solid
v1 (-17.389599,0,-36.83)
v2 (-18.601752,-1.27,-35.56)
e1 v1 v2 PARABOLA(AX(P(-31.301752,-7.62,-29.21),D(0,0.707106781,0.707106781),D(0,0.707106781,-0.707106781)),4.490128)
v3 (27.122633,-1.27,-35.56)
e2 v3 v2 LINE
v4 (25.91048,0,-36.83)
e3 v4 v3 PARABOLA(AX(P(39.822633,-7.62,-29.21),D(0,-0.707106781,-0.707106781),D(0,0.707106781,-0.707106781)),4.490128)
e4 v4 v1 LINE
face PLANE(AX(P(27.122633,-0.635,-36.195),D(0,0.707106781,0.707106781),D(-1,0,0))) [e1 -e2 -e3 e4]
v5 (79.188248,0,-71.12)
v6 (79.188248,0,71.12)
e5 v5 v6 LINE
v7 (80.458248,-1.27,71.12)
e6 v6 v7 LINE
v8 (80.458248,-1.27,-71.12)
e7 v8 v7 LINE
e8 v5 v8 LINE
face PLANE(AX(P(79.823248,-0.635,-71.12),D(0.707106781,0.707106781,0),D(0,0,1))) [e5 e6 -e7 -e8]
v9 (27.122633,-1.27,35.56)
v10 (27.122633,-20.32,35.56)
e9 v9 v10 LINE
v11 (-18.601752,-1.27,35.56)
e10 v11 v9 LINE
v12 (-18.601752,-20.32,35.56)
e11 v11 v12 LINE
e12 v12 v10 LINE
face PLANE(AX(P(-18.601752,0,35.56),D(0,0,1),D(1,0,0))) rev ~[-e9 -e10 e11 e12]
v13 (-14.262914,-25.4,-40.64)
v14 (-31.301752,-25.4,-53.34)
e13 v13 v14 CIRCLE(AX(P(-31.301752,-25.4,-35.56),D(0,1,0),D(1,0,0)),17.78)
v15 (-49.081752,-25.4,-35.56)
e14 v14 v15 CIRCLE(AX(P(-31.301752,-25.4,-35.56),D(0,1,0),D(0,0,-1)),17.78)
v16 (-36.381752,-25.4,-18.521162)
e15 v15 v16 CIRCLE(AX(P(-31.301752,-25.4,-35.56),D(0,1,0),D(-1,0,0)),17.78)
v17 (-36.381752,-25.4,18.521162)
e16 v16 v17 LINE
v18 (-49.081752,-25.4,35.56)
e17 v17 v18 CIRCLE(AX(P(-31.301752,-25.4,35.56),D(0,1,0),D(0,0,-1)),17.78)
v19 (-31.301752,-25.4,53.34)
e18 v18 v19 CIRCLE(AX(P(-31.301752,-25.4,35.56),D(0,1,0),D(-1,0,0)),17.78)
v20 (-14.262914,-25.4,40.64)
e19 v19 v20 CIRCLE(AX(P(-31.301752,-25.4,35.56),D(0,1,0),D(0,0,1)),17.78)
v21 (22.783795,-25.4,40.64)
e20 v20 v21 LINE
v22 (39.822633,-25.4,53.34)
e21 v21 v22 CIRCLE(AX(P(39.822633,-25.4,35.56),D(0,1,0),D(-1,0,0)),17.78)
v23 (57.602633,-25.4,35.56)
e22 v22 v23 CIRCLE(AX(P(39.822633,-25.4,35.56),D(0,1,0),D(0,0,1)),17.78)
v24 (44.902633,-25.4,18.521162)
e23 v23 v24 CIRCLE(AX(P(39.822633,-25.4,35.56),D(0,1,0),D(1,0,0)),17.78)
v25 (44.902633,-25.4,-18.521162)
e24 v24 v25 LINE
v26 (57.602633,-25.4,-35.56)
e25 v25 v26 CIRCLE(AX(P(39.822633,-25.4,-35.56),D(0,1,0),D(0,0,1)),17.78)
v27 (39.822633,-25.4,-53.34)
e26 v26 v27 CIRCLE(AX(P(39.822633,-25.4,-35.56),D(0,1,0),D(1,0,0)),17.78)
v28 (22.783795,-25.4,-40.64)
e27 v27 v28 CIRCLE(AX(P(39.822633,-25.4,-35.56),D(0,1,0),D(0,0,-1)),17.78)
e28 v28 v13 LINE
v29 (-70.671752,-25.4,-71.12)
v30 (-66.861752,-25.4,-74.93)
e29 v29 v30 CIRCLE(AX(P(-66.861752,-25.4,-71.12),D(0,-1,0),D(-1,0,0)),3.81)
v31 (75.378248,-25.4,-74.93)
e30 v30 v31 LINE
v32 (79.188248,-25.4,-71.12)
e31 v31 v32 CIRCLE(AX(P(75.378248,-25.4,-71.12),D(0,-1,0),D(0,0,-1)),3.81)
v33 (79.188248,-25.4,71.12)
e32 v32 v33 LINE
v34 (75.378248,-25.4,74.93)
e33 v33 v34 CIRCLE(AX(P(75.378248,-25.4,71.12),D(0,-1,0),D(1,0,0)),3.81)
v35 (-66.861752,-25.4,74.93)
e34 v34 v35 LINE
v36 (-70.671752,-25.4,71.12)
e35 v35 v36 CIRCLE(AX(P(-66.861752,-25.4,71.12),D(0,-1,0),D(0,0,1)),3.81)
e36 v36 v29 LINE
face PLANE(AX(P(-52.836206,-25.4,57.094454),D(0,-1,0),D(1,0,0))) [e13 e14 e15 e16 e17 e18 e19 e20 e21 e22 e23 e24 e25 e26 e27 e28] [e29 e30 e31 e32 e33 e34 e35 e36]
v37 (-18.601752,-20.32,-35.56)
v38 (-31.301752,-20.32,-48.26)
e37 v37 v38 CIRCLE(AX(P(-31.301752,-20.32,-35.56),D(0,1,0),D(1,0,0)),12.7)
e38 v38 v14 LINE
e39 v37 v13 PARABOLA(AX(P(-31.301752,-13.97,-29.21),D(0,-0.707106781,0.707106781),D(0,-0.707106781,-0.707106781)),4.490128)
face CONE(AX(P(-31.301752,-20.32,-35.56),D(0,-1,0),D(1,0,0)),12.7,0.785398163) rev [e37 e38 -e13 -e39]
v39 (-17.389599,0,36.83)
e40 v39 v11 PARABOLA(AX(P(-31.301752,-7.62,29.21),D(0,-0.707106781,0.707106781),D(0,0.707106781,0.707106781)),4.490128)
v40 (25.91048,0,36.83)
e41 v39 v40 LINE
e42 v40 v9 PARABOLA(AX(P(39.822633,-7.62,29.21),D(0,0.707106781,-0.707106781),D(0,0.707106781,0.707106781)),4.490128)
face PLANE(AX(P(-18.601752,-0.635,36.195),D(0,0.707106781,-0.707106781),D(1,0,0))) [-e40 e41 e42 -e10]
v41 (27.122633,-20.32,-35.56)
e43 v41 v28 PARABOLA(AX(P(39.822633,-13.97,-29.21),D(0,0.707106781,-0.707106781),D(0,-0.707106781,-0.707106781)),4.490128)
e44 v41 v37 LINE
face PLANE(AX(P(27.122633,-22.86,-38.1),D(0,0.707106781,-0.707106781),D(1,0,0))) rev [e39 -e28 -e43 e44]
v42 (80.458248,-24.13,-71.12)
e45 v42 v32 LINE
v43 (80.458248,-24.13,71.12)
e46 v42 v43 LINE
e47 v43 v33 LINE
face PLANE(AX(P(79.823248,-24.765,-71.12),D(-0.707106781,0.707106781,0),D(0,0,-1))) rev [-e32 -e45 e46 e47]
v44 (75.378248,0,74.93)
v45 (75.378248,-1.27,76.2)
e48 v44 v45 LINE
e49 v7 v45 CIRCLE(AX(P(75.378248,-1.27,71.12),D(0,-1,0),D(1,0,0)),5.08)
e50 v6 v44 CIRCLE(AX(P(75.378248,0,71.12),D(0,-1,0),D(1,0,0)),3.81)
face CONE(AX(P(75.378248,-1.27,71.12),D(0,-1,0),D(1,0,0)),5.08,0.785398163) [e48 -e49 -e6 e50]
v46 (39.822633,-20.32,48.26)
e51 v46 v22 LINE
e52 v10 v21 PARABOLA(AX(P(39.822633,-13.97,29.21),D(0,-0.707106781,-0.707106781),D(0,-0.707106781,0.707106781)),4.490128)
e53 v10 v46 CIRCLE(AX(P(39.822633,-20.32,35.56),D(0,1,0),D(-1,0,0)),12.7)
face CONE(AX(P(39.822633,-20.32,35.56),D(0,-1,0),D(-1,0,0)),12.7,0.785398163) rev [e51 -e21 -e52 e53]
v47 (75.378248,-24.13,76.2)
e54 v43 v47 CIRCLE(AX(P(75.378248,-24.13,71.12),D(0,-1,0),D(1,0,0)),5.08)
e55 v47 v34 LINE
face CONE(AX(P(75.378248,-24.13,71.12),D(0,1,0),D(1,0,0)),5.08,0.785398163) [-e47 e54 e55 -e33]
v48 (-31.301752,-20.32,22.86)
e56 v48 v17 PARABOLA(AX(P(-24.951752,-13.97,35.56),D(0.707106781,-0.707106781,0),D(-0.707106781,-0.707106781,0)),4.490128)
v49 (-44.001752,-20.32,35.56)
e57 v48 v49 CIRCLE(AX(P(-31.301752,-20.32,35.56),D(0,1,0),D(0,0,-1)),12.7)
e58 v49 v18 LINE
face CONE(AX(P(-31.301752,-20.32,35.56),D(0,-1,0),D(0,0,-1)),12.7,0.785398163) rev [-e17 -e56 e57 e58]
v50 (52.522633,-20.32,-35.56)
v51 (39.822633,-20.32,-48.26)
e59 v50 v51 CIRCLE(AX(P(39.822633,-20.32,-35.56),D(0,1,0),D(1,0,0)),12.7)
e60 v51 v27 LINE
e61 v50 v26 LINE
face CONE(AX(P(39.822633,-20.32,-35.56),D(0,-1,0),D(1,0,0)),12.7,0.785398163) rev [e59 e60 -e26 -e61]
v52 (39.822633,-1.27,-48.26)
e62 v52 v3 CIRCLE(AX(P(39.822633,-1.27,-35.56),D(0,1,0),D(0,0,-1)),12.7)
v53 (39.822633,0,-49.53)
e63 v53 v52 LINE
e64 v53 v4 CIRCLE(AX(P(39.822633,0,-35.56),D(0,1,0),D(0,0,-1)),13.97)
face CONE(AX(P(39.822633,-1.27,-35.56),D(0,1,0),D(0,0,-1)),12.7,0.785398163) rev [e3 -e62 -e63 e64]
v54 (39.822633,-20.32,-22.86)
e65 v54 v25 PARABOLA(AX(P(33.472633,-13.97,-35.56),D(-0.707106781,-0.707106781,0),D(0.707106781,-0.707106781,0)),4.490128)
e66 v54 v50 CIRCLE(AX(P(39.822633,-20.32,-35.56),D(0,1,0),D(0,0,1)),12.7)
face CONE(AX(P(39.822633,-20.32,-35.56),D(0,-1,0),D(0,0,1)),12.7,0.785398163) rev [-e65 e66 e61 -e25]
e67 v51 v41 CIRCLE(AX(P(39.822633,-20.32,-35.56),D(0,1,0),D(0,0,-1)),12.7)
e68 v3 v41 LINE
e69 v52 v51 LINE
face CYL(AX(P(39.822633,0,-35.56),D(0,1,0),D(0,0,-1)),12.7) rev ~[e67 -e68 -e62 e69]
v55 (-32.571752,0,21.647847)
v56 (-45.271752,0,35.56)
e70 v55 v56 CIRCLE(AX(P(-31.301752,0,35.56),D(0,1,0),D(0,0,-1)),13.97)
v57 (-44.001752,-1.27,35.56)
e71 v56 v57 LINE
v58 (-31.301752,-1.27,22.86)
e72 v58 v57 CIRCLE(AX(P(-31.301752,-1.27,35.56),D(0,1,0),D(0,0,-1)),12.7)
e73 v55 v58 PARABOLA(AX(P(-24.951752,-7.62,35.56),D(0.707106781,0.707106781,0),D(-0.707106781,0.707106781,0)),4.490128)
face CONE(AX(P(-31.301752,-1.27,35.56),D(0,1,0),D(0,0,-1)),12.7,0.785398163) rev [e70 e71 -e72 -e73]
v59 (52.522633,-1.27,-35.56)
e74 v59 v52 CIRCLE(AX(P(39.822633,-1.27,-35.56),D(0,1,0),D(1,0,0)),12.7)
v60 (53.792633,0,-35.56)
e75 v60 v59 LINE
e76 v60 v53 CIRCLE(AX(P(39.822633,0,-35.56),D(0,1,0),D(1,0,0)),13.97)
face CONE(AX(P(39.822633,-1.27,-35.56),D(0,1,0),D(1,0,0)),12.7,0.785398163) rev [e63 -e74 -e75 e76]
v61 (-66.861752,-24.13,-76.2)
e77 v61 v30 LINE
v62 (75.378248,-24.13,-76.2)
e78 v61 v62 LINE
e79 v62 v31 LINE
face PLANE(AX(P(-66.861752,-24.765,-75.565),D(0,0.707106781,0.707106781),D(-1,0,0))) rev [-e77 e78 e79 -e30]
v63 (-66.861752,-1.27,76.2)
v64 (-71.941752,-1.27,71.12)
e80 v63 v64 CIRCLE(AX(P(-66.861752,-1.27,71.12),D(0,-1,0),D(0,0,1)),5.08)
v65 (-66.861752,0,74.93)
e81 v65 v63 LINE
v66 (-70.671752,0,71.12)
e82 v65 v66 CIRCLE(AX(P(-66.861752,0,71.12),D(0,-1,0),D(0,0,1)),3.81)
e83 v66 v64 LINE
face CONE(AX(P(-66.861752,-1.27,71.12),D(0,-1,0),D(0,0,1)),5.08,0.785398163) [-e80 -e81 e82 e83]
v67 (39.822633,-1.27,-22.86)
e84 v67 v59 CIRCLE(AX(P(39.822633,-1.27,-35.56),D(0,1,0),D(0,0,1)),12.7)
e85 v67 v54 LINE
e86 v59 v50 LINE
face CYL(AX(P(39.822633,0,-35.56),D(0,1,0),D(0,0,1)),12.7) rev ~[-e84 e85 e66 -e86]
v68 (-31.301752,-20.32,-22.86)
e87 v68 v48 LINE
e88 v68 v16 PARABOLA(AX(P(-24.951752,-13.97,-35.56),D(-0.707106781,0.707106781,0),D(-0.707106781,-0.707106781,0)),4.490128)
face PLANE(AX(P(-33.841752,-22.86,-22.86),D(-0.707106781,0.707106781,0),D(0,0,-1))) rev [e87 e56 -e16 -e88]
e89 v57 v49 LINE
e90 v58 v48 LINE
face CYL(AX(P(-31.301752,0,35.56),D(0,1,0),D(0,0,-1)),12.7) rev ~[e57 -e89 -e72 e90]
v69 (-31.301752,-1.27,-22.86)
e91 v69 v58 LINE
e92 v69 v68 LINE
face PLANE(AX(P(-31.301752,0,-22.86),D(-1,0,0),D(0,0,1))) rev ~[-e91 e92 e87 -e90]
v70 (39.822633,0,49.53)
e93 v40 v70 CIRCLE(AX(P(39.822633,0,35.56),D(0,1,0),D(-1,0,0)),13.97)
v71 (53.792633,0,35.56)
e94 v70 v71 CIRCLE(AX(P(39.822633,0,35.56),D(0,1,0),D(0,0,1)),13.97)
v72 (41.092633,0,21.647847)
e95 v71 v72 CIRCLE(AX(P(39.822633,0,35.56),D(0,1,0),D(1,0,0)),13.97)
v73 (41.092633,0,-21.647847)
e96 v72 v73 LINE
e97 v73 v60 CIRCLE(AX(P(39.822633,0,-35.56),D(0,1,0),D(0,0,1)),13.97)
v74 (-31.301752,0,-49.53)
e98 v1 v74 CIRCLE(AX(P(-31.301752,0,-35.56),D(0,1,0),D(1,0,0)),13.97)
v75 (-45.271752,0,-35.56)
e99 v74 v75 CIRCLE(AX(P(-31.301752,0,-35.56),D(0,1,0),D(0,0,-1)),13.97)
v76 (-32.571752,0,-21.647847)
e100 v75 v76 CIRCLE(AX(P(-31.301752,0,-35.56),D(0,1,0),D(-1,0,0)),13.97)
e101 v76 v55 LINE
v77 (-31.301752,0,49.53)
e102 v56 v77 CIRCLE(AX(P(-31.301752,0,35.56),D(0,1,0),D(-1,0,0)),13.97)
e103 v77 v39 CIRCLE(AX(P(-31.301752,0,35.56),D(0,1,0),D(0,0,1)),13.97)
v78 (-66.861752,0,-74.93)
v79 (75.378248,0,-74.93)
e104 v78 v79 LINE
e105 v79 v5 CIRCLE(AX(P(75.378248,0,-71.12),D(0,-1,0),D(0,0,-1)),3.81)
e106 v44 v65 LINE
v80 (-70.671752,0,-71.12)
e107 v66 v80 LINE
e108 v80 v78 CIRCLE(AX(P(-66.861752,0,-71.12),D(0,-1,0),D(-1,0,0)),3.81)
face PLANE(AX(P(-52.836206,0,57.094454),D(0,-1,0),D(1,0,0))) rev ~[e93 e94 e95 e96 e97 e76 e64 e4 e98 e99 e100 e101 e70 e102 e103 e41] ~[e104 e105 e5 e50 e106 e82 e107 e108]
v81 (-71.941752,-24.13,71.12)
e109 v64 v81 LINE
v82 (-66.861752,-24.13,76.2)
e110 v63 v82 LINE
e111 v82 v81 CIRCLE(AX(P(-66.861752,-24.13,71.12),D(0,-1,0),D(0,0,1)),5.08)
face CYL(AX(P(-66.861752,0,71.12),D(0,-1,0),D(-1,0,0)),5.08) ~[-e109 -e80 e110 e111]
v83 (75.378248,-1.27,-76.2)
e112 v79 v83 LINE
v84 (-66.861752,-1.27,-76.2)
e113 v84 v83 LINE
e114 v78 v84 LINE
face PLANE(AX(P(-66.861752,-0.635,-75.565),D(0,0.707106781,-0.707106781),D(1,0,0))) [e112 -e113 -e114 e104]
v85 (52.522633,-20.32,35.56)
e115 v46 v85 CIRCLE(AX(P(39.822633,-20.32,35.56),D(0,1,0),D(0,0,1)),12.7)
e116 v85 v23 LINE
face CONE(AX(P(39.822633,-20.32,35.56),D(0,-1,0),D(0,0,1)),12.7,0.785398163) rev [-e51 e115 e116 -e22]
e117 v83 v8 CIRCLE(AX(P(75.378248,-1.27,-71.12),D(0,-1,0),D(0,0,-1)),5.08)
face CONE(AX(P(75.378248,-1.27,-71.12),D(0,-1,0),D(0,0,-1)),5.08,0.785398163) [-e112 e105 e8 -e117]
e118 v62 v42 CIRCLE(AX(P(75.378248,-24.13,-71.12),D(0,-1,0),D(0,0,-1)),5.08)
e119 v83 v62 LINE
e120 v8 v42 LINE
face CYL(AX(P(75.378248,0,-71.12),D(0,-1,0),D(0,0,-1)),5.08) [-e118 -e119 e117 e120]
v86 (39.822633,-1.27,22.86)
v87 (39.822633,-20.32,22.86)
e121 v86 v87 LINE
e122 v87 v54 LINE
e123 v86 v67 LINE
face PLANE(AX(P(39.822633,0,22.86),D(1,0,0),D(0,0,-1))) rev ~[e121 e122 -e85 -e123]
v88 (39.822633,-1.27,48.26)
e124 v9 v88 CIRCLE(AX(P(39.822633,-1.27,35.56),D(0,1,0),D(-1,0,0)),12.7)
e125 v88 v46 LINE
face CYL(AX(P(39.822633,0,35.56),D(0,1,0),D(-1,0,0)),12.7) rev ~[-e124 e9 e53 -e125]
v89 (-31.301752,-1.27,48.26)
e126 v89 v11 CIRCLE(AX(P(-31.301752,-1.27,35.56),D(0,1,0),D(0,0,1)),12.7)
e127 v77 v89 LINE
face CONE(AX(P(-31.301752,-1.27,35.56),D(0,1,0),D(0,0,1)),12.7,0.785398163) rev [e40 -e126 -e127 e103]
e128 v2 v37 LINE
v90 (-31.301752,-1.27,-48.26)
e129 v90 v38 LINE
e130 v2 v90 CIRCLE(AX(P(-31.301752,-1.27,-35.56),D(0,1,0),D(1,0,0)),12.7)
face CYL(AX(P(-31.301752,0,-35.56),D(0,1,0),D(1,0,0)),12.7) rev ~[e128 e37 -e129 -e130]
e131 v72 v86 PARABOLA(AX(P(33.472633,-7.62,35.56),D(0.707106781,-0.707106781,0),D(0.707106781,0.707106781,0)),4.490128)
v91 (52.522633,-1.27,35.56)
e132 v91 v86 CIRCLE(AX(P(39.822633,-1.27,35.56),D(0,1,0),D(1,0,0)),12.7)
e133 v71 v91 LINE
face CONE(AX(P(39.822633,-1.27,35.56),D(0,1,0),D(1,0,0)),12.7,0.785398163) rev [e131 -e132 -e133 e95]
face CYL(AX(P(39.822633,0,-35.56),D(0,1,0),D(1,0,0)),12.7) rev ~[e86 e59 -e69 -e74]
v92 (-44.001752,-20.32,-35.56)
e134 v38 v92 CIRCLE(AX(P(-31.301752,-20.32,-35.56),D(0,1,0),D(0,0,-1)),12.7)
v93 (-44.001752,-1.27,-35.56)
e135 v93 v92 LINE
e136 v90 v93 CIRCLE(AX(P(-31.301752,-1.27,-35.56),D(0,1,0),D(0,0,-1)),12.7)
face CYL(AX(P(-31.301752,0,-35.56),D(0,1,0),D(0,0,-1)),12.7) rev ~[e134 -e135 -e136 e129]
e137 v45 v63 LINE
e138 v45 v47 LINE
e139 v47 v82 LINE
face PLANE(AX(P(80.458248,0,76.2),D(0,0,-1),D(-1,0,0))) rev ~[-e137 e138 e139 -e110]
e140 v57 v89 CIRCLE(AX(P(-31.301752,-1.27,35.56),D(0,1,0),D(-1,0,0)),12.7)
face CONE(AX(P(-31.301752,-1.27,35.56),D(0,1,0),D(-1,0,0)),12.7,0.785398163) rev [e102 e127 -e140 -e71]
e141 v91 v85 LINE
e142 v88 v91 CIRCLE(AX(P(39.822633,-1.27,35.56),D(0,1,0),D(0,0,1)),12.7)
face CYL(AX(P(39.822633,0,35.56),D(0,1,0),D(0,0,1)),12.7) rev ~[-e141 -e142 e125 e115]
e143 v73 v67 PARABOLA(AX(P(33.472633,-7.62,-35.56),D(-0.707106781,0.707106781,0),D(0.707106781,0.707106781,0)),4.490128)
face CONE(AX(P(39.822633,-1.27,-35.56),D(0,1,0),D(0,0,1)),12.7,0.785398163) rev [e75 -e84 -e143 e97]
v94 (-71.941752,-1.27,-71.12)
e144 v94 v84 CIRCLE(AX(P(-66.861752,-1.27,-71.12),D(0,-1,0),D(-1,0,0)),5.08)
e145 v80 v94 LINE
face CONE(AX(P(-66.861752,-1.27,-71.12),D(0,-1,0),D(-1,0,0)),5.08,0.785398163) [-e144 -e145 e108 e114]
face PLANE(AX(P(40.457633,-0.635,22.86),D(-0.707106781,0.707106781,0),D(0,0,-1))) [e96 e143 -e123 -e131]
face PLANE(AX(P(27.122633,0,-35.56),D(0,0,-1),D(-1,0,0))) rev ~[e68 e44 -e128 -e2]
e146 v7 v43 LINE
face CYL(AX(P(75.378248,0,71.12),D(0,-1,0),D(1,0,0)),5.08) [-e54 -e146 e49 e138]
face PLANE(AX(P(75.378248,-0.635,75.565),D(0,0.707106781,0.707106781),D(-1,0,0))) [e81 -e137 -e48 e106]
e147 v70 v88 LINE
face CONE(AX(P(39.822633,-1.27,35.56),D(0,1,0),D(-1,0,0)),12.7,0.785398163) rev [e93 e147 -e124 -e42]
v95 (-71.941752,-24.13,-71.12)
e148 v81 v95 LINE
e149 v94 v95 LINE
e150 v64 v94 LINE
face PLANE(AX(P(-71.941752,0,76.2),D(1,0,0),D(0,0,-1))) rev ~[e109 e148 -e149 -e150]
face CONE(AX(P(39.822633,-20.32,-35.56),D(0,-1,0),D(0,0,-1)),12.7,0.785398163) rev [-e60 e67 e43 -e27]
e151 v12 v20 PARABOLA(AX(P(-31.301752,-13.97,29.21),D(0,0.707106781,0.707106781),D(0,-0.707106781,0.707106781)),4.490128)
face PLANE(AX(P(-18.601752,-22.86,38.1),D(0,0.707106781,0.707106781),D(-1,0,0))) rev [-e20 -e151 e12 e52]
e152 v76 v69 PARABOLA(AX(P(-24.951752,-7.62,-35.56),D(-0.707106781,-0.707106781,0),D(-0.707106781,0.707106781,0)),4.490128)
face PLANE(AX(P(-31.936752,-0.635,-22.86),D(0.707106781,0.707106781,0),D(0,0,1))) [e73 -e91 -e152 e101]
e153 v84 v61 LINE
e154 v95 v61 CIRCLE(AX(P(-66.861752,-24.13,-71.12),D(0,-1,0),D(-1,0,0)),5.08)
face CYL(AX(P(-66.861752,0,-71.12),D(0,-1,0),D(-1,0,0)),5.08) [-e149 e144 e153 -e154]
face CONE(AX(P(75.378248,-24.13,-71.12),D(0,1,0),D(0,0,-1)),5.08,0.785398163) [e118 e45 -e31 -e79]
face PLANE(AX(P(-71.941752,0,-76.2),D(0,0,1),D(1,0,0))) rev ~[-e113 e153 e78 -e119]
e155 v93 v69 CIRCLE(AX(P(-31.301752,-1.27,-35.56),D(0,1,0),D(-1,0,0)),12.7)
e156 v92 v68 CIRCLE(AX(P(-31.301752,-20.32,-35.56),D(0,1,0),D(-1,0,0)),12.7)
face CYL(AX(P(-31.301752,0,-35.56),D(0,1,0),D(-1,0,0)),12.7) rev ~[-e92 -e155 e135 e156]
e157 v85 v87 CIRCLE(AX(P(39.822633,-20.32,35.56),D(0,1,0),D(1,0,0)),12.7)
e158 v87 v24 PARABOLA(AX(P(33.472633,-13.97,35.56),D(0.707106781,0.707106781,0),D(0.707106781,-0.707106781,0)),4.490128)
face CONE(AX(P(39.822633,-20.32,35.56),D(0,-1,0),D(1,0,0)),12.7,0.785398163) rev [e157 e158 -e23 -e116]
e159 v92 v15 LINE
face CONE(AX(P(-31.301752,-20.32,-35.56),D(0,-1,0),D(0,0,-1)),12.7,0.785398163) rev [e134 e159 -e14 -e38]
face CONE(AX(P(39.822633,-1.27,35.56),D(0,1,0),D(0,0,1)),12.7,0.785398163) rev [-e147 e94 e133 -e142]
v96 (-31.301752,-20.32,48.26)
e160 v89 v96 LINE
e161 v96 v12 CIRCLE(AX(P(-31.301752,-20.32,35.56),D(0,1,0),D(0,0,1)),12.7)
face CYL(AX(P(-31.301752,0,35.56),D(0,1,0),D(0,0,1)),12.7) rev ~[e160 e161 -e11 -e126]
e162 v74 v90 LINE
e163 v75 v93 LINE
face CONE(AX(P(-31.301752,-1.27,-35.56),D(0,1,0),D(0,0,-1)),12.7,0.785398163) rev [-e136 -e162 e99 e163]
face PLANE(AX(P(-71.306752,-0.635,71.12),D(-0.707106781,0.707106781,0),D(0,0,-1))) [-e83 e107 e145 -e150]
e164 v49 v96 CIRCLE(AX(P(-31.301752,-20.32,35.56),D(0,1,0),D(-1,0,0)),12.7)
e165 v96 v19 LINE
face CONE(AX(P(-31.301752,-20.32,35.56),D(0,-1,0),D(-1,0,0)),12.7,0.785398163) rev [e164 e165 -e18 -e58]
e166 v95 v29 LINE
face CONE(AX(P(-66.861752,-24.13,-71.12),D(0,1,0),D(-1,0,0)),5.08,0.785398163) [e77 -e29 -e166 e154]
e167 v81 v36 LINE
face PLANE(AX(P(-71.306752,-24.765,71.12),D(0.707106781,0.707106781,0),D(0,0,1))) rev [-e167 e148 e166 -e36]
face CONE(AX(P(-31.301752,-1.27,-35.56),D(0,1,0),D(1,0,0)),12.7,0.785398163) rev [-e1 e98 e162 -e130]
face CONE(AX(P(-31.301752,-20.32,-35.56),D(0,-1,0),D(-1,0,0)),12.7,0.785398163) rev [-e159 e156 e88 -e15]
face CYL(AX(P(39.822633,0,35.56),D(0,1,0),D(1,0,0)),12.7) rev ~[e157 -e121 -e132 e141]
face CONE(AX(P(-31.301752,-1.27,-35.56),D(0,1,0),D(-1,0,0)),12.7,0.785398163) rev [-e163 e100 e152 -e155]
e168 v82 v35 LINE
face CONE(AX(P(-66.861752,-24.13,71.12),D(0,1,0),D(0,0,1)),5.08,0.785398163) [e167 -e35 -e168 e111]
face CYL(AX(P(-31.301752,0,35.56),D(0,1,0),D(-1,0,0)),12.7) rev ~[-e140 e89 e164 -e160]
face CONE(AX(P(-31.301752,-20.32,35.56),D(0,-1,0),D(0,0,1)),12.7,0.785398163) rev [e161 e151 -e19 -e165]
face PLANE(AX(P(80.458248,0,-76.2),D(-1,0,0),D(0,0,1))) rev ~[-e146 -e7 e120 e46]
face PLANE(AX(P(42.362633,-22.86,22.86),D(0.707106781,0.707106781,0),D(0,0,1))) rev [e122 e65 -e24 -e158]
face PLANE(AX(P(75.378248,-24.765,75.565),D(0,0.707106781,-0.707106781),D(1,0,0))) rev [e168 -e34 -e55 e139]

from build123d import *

# Parameters (mm, degrees)
F1_DEPTH = 25.4
F2_SIZE  = 5.08
F3_R     = 5.08
F4_SIZE  = 1.27


with BuildPart() as f1:
    # F0 (on Front) → F1 (new body)
    with BuildSketch(Plane.XZ):
        with BuildLine():
            Line((-31.3017520181, 76.2), (-71.9417520181, 76.2))
            Line((-71.9417520181, 76.2), (-71.9417520181, 35.56))
            Line((-71.9417520181, 35.56), (-44.0017520181, 35.56))
            ThreePointArc((-44.0017520181, 35.56), (-40.2820081392, 44.5402561211), (-31.3017520181, 48.26))
            Line((-31.3017520181, 48.26), (-31.3017520181, 76.2))
        make_face()
        with BuildLine():
            Line((80.4582479819, 76.2), (-31.3017520181, 76.2))
            Line((-31.3017520181, 76.2), (-31.3017520181, 48.26))
            ThreePointArc((-31.3017520181, 48.26), (-22.3214958971, 44.5402561211), (-18.6017520181, 35.56))
            Line((-18.6017520181, 35.56), (27.1226329476, 35.56))
            ThreePointArc((27.1226329476, 35.56), (30.8423768265, 44.5402561211), (39.8226329476, 48.26))
            ThreePointArc((39.8226329476, 48.26), (48.8028890686, 44.5402561211), (52.5226329476, 35.56))
            Line((52.5226329476, 35.56), (80.4582479819, 35.56))
            Line((80.4582479819, 35.56), (80.4582479819, 76.2))
        make_face()
        with BuildLine():
            Line((-44.0017520181, 35.56), (-71.9417520181, 35.56))
            Line((-71.9417520181, 35.56), (-71.9417520181, -35.56))
            Line((-71.9417520181, -35.56), (-44.0017520181, -35.56))
            ThreePointArc((-44.0017520181, -35.56), (-40.2820081392, -26.5797438789), (-31.3017520181, -22.86))
            Line((-31.3017520181, -22.86), (-31.3017520181, 22.86))
            ThreePointArc((-31.3017520181, 22.86), (-40.2820081392, 26.5797438789), (-44.0017520181, 35.56))
        make_face()
        with BuildLine():
            Line((-44.0017520181, -35.56), (-71.9417520181, -35.56))
            Line((-71.9417520181, -35.56), (-71.9417520181, -76.2))
            Line((-71.9417520181, -76.2), (-31.3017520181, -76.2))
            Line((-31.3017520181, -76.2), (-31.3017520181, -48.26))
            ThreePointArc((-31.3017520181, -48.26), (-40.2820081392, -44.5402561211), (-44.0017520181, -35.56))
        make_face()
        with BuildLine():
            Line((80.4582479819, -35.56), (80.4582479819, 35.56))
            Line((80.4582479819, 35.56), (52.5226329476, 35.56))
            ThreePointArc((52.5226329476, 35.56), (48.8028890686, 26.5797438789), (39.8226329476, 22.86))
            Line((39.8226329476, 22.86), (39.8226329476, -22.86))
            ThreePointArc((39.8226329476, -22.86), (48.8028890686, -26.5797438789), (52.5226329476, -35.56))
            Line((52.5226329476, -35.56), (80.4582479819, -35.56))
        make_face()
        with BuildLine():
            Line((80.4582479819, -76.2), (80.4582479819, -35.56))
            Line((80.4582479819, -35.56), (52.5226329476, -35.56))
            ThreePointArc((52.5226329476, -35.56), (48.8028890686, -44.5402561211), (39.8226329476, -48.26))
            Line((39.8226329476, -48.26), (39.8226329476, -76.2))
            Line((39.8226329476, -76.2), (80.4582479819, -76.2))
        make_face()
        with BuildLine():
            Line((-31.3017520181, -48.26), (-31.3017520181, -76.2))
            Line((-31.3017520181, -76.2), (39.8226329476, -76.2))
            Line((39.8226329476, -76.2), (39.8226329476, -48.26))
            ThreePointArc((39.8226329476, -48.26), (30.8423768265, -44.5402561211), (27.1226329476, -35.56))
            Line((27.1226329476, -35.56), (-18.6017520181, -35.56))
            ThreePointArc((-18.6017520181, -35.56), (-22.3214958971, -44.5402561211), (-31.3017520181, -48.26))
        make_face()
    extrude(amount=F1_DEPTH)

    # F2
    f2_edges = [f1.edges().sort_by_distance(p)[0] for p in [
        (39.822633, -25.4, 0),
        (4.26044, -25.4, 35.56),
        (4.26044, -25.4, -35.56),
        (48.802889, -25.4, 44.540256),
        (48.802889, -25.4, -44.540256),
        (-40.282008, -25.4, -44.540256),
        (-31.301752, -25.4, 0),
        (-40.282008, -25.4, 44.540256),
    ]]
    chamfer(f2_edges, length=F2_SIZE)

    # F3
    f3_edges = [f1.edges().sort_by_distance(p)[0] for p in [
        (80.458248, -12.7, 76.2),
        (80.458248, -12.7, -76.2),
        (-71.941752, -12.7, -76.2),
        (-71.941752, -12.7, 76.2),
    ]]
    fillet(f3_edges, radius=F3_R)

    # F4
    f4_edges = [f1.edges().sort_by_distance(p)[0] for p in [
        (4.258248, -25.4, 76.2),
        (-71.941752, 0, 0),
        (4.26044, 0, 35.56),
        (-40.282008, 0, 44.540256),
        (-31.301752, 0, 0),
        (39.822633, 0, 0),
        (48.802889, 0, 44.540256),
        (4.26044, 0, -35.56),
        (-40.282008, 0, -44.540256),
        (48.802889, 0, -44.540256),
    ]]
    chamfer(f4_edges, length=F4_SIZE)


solid = f1.part
